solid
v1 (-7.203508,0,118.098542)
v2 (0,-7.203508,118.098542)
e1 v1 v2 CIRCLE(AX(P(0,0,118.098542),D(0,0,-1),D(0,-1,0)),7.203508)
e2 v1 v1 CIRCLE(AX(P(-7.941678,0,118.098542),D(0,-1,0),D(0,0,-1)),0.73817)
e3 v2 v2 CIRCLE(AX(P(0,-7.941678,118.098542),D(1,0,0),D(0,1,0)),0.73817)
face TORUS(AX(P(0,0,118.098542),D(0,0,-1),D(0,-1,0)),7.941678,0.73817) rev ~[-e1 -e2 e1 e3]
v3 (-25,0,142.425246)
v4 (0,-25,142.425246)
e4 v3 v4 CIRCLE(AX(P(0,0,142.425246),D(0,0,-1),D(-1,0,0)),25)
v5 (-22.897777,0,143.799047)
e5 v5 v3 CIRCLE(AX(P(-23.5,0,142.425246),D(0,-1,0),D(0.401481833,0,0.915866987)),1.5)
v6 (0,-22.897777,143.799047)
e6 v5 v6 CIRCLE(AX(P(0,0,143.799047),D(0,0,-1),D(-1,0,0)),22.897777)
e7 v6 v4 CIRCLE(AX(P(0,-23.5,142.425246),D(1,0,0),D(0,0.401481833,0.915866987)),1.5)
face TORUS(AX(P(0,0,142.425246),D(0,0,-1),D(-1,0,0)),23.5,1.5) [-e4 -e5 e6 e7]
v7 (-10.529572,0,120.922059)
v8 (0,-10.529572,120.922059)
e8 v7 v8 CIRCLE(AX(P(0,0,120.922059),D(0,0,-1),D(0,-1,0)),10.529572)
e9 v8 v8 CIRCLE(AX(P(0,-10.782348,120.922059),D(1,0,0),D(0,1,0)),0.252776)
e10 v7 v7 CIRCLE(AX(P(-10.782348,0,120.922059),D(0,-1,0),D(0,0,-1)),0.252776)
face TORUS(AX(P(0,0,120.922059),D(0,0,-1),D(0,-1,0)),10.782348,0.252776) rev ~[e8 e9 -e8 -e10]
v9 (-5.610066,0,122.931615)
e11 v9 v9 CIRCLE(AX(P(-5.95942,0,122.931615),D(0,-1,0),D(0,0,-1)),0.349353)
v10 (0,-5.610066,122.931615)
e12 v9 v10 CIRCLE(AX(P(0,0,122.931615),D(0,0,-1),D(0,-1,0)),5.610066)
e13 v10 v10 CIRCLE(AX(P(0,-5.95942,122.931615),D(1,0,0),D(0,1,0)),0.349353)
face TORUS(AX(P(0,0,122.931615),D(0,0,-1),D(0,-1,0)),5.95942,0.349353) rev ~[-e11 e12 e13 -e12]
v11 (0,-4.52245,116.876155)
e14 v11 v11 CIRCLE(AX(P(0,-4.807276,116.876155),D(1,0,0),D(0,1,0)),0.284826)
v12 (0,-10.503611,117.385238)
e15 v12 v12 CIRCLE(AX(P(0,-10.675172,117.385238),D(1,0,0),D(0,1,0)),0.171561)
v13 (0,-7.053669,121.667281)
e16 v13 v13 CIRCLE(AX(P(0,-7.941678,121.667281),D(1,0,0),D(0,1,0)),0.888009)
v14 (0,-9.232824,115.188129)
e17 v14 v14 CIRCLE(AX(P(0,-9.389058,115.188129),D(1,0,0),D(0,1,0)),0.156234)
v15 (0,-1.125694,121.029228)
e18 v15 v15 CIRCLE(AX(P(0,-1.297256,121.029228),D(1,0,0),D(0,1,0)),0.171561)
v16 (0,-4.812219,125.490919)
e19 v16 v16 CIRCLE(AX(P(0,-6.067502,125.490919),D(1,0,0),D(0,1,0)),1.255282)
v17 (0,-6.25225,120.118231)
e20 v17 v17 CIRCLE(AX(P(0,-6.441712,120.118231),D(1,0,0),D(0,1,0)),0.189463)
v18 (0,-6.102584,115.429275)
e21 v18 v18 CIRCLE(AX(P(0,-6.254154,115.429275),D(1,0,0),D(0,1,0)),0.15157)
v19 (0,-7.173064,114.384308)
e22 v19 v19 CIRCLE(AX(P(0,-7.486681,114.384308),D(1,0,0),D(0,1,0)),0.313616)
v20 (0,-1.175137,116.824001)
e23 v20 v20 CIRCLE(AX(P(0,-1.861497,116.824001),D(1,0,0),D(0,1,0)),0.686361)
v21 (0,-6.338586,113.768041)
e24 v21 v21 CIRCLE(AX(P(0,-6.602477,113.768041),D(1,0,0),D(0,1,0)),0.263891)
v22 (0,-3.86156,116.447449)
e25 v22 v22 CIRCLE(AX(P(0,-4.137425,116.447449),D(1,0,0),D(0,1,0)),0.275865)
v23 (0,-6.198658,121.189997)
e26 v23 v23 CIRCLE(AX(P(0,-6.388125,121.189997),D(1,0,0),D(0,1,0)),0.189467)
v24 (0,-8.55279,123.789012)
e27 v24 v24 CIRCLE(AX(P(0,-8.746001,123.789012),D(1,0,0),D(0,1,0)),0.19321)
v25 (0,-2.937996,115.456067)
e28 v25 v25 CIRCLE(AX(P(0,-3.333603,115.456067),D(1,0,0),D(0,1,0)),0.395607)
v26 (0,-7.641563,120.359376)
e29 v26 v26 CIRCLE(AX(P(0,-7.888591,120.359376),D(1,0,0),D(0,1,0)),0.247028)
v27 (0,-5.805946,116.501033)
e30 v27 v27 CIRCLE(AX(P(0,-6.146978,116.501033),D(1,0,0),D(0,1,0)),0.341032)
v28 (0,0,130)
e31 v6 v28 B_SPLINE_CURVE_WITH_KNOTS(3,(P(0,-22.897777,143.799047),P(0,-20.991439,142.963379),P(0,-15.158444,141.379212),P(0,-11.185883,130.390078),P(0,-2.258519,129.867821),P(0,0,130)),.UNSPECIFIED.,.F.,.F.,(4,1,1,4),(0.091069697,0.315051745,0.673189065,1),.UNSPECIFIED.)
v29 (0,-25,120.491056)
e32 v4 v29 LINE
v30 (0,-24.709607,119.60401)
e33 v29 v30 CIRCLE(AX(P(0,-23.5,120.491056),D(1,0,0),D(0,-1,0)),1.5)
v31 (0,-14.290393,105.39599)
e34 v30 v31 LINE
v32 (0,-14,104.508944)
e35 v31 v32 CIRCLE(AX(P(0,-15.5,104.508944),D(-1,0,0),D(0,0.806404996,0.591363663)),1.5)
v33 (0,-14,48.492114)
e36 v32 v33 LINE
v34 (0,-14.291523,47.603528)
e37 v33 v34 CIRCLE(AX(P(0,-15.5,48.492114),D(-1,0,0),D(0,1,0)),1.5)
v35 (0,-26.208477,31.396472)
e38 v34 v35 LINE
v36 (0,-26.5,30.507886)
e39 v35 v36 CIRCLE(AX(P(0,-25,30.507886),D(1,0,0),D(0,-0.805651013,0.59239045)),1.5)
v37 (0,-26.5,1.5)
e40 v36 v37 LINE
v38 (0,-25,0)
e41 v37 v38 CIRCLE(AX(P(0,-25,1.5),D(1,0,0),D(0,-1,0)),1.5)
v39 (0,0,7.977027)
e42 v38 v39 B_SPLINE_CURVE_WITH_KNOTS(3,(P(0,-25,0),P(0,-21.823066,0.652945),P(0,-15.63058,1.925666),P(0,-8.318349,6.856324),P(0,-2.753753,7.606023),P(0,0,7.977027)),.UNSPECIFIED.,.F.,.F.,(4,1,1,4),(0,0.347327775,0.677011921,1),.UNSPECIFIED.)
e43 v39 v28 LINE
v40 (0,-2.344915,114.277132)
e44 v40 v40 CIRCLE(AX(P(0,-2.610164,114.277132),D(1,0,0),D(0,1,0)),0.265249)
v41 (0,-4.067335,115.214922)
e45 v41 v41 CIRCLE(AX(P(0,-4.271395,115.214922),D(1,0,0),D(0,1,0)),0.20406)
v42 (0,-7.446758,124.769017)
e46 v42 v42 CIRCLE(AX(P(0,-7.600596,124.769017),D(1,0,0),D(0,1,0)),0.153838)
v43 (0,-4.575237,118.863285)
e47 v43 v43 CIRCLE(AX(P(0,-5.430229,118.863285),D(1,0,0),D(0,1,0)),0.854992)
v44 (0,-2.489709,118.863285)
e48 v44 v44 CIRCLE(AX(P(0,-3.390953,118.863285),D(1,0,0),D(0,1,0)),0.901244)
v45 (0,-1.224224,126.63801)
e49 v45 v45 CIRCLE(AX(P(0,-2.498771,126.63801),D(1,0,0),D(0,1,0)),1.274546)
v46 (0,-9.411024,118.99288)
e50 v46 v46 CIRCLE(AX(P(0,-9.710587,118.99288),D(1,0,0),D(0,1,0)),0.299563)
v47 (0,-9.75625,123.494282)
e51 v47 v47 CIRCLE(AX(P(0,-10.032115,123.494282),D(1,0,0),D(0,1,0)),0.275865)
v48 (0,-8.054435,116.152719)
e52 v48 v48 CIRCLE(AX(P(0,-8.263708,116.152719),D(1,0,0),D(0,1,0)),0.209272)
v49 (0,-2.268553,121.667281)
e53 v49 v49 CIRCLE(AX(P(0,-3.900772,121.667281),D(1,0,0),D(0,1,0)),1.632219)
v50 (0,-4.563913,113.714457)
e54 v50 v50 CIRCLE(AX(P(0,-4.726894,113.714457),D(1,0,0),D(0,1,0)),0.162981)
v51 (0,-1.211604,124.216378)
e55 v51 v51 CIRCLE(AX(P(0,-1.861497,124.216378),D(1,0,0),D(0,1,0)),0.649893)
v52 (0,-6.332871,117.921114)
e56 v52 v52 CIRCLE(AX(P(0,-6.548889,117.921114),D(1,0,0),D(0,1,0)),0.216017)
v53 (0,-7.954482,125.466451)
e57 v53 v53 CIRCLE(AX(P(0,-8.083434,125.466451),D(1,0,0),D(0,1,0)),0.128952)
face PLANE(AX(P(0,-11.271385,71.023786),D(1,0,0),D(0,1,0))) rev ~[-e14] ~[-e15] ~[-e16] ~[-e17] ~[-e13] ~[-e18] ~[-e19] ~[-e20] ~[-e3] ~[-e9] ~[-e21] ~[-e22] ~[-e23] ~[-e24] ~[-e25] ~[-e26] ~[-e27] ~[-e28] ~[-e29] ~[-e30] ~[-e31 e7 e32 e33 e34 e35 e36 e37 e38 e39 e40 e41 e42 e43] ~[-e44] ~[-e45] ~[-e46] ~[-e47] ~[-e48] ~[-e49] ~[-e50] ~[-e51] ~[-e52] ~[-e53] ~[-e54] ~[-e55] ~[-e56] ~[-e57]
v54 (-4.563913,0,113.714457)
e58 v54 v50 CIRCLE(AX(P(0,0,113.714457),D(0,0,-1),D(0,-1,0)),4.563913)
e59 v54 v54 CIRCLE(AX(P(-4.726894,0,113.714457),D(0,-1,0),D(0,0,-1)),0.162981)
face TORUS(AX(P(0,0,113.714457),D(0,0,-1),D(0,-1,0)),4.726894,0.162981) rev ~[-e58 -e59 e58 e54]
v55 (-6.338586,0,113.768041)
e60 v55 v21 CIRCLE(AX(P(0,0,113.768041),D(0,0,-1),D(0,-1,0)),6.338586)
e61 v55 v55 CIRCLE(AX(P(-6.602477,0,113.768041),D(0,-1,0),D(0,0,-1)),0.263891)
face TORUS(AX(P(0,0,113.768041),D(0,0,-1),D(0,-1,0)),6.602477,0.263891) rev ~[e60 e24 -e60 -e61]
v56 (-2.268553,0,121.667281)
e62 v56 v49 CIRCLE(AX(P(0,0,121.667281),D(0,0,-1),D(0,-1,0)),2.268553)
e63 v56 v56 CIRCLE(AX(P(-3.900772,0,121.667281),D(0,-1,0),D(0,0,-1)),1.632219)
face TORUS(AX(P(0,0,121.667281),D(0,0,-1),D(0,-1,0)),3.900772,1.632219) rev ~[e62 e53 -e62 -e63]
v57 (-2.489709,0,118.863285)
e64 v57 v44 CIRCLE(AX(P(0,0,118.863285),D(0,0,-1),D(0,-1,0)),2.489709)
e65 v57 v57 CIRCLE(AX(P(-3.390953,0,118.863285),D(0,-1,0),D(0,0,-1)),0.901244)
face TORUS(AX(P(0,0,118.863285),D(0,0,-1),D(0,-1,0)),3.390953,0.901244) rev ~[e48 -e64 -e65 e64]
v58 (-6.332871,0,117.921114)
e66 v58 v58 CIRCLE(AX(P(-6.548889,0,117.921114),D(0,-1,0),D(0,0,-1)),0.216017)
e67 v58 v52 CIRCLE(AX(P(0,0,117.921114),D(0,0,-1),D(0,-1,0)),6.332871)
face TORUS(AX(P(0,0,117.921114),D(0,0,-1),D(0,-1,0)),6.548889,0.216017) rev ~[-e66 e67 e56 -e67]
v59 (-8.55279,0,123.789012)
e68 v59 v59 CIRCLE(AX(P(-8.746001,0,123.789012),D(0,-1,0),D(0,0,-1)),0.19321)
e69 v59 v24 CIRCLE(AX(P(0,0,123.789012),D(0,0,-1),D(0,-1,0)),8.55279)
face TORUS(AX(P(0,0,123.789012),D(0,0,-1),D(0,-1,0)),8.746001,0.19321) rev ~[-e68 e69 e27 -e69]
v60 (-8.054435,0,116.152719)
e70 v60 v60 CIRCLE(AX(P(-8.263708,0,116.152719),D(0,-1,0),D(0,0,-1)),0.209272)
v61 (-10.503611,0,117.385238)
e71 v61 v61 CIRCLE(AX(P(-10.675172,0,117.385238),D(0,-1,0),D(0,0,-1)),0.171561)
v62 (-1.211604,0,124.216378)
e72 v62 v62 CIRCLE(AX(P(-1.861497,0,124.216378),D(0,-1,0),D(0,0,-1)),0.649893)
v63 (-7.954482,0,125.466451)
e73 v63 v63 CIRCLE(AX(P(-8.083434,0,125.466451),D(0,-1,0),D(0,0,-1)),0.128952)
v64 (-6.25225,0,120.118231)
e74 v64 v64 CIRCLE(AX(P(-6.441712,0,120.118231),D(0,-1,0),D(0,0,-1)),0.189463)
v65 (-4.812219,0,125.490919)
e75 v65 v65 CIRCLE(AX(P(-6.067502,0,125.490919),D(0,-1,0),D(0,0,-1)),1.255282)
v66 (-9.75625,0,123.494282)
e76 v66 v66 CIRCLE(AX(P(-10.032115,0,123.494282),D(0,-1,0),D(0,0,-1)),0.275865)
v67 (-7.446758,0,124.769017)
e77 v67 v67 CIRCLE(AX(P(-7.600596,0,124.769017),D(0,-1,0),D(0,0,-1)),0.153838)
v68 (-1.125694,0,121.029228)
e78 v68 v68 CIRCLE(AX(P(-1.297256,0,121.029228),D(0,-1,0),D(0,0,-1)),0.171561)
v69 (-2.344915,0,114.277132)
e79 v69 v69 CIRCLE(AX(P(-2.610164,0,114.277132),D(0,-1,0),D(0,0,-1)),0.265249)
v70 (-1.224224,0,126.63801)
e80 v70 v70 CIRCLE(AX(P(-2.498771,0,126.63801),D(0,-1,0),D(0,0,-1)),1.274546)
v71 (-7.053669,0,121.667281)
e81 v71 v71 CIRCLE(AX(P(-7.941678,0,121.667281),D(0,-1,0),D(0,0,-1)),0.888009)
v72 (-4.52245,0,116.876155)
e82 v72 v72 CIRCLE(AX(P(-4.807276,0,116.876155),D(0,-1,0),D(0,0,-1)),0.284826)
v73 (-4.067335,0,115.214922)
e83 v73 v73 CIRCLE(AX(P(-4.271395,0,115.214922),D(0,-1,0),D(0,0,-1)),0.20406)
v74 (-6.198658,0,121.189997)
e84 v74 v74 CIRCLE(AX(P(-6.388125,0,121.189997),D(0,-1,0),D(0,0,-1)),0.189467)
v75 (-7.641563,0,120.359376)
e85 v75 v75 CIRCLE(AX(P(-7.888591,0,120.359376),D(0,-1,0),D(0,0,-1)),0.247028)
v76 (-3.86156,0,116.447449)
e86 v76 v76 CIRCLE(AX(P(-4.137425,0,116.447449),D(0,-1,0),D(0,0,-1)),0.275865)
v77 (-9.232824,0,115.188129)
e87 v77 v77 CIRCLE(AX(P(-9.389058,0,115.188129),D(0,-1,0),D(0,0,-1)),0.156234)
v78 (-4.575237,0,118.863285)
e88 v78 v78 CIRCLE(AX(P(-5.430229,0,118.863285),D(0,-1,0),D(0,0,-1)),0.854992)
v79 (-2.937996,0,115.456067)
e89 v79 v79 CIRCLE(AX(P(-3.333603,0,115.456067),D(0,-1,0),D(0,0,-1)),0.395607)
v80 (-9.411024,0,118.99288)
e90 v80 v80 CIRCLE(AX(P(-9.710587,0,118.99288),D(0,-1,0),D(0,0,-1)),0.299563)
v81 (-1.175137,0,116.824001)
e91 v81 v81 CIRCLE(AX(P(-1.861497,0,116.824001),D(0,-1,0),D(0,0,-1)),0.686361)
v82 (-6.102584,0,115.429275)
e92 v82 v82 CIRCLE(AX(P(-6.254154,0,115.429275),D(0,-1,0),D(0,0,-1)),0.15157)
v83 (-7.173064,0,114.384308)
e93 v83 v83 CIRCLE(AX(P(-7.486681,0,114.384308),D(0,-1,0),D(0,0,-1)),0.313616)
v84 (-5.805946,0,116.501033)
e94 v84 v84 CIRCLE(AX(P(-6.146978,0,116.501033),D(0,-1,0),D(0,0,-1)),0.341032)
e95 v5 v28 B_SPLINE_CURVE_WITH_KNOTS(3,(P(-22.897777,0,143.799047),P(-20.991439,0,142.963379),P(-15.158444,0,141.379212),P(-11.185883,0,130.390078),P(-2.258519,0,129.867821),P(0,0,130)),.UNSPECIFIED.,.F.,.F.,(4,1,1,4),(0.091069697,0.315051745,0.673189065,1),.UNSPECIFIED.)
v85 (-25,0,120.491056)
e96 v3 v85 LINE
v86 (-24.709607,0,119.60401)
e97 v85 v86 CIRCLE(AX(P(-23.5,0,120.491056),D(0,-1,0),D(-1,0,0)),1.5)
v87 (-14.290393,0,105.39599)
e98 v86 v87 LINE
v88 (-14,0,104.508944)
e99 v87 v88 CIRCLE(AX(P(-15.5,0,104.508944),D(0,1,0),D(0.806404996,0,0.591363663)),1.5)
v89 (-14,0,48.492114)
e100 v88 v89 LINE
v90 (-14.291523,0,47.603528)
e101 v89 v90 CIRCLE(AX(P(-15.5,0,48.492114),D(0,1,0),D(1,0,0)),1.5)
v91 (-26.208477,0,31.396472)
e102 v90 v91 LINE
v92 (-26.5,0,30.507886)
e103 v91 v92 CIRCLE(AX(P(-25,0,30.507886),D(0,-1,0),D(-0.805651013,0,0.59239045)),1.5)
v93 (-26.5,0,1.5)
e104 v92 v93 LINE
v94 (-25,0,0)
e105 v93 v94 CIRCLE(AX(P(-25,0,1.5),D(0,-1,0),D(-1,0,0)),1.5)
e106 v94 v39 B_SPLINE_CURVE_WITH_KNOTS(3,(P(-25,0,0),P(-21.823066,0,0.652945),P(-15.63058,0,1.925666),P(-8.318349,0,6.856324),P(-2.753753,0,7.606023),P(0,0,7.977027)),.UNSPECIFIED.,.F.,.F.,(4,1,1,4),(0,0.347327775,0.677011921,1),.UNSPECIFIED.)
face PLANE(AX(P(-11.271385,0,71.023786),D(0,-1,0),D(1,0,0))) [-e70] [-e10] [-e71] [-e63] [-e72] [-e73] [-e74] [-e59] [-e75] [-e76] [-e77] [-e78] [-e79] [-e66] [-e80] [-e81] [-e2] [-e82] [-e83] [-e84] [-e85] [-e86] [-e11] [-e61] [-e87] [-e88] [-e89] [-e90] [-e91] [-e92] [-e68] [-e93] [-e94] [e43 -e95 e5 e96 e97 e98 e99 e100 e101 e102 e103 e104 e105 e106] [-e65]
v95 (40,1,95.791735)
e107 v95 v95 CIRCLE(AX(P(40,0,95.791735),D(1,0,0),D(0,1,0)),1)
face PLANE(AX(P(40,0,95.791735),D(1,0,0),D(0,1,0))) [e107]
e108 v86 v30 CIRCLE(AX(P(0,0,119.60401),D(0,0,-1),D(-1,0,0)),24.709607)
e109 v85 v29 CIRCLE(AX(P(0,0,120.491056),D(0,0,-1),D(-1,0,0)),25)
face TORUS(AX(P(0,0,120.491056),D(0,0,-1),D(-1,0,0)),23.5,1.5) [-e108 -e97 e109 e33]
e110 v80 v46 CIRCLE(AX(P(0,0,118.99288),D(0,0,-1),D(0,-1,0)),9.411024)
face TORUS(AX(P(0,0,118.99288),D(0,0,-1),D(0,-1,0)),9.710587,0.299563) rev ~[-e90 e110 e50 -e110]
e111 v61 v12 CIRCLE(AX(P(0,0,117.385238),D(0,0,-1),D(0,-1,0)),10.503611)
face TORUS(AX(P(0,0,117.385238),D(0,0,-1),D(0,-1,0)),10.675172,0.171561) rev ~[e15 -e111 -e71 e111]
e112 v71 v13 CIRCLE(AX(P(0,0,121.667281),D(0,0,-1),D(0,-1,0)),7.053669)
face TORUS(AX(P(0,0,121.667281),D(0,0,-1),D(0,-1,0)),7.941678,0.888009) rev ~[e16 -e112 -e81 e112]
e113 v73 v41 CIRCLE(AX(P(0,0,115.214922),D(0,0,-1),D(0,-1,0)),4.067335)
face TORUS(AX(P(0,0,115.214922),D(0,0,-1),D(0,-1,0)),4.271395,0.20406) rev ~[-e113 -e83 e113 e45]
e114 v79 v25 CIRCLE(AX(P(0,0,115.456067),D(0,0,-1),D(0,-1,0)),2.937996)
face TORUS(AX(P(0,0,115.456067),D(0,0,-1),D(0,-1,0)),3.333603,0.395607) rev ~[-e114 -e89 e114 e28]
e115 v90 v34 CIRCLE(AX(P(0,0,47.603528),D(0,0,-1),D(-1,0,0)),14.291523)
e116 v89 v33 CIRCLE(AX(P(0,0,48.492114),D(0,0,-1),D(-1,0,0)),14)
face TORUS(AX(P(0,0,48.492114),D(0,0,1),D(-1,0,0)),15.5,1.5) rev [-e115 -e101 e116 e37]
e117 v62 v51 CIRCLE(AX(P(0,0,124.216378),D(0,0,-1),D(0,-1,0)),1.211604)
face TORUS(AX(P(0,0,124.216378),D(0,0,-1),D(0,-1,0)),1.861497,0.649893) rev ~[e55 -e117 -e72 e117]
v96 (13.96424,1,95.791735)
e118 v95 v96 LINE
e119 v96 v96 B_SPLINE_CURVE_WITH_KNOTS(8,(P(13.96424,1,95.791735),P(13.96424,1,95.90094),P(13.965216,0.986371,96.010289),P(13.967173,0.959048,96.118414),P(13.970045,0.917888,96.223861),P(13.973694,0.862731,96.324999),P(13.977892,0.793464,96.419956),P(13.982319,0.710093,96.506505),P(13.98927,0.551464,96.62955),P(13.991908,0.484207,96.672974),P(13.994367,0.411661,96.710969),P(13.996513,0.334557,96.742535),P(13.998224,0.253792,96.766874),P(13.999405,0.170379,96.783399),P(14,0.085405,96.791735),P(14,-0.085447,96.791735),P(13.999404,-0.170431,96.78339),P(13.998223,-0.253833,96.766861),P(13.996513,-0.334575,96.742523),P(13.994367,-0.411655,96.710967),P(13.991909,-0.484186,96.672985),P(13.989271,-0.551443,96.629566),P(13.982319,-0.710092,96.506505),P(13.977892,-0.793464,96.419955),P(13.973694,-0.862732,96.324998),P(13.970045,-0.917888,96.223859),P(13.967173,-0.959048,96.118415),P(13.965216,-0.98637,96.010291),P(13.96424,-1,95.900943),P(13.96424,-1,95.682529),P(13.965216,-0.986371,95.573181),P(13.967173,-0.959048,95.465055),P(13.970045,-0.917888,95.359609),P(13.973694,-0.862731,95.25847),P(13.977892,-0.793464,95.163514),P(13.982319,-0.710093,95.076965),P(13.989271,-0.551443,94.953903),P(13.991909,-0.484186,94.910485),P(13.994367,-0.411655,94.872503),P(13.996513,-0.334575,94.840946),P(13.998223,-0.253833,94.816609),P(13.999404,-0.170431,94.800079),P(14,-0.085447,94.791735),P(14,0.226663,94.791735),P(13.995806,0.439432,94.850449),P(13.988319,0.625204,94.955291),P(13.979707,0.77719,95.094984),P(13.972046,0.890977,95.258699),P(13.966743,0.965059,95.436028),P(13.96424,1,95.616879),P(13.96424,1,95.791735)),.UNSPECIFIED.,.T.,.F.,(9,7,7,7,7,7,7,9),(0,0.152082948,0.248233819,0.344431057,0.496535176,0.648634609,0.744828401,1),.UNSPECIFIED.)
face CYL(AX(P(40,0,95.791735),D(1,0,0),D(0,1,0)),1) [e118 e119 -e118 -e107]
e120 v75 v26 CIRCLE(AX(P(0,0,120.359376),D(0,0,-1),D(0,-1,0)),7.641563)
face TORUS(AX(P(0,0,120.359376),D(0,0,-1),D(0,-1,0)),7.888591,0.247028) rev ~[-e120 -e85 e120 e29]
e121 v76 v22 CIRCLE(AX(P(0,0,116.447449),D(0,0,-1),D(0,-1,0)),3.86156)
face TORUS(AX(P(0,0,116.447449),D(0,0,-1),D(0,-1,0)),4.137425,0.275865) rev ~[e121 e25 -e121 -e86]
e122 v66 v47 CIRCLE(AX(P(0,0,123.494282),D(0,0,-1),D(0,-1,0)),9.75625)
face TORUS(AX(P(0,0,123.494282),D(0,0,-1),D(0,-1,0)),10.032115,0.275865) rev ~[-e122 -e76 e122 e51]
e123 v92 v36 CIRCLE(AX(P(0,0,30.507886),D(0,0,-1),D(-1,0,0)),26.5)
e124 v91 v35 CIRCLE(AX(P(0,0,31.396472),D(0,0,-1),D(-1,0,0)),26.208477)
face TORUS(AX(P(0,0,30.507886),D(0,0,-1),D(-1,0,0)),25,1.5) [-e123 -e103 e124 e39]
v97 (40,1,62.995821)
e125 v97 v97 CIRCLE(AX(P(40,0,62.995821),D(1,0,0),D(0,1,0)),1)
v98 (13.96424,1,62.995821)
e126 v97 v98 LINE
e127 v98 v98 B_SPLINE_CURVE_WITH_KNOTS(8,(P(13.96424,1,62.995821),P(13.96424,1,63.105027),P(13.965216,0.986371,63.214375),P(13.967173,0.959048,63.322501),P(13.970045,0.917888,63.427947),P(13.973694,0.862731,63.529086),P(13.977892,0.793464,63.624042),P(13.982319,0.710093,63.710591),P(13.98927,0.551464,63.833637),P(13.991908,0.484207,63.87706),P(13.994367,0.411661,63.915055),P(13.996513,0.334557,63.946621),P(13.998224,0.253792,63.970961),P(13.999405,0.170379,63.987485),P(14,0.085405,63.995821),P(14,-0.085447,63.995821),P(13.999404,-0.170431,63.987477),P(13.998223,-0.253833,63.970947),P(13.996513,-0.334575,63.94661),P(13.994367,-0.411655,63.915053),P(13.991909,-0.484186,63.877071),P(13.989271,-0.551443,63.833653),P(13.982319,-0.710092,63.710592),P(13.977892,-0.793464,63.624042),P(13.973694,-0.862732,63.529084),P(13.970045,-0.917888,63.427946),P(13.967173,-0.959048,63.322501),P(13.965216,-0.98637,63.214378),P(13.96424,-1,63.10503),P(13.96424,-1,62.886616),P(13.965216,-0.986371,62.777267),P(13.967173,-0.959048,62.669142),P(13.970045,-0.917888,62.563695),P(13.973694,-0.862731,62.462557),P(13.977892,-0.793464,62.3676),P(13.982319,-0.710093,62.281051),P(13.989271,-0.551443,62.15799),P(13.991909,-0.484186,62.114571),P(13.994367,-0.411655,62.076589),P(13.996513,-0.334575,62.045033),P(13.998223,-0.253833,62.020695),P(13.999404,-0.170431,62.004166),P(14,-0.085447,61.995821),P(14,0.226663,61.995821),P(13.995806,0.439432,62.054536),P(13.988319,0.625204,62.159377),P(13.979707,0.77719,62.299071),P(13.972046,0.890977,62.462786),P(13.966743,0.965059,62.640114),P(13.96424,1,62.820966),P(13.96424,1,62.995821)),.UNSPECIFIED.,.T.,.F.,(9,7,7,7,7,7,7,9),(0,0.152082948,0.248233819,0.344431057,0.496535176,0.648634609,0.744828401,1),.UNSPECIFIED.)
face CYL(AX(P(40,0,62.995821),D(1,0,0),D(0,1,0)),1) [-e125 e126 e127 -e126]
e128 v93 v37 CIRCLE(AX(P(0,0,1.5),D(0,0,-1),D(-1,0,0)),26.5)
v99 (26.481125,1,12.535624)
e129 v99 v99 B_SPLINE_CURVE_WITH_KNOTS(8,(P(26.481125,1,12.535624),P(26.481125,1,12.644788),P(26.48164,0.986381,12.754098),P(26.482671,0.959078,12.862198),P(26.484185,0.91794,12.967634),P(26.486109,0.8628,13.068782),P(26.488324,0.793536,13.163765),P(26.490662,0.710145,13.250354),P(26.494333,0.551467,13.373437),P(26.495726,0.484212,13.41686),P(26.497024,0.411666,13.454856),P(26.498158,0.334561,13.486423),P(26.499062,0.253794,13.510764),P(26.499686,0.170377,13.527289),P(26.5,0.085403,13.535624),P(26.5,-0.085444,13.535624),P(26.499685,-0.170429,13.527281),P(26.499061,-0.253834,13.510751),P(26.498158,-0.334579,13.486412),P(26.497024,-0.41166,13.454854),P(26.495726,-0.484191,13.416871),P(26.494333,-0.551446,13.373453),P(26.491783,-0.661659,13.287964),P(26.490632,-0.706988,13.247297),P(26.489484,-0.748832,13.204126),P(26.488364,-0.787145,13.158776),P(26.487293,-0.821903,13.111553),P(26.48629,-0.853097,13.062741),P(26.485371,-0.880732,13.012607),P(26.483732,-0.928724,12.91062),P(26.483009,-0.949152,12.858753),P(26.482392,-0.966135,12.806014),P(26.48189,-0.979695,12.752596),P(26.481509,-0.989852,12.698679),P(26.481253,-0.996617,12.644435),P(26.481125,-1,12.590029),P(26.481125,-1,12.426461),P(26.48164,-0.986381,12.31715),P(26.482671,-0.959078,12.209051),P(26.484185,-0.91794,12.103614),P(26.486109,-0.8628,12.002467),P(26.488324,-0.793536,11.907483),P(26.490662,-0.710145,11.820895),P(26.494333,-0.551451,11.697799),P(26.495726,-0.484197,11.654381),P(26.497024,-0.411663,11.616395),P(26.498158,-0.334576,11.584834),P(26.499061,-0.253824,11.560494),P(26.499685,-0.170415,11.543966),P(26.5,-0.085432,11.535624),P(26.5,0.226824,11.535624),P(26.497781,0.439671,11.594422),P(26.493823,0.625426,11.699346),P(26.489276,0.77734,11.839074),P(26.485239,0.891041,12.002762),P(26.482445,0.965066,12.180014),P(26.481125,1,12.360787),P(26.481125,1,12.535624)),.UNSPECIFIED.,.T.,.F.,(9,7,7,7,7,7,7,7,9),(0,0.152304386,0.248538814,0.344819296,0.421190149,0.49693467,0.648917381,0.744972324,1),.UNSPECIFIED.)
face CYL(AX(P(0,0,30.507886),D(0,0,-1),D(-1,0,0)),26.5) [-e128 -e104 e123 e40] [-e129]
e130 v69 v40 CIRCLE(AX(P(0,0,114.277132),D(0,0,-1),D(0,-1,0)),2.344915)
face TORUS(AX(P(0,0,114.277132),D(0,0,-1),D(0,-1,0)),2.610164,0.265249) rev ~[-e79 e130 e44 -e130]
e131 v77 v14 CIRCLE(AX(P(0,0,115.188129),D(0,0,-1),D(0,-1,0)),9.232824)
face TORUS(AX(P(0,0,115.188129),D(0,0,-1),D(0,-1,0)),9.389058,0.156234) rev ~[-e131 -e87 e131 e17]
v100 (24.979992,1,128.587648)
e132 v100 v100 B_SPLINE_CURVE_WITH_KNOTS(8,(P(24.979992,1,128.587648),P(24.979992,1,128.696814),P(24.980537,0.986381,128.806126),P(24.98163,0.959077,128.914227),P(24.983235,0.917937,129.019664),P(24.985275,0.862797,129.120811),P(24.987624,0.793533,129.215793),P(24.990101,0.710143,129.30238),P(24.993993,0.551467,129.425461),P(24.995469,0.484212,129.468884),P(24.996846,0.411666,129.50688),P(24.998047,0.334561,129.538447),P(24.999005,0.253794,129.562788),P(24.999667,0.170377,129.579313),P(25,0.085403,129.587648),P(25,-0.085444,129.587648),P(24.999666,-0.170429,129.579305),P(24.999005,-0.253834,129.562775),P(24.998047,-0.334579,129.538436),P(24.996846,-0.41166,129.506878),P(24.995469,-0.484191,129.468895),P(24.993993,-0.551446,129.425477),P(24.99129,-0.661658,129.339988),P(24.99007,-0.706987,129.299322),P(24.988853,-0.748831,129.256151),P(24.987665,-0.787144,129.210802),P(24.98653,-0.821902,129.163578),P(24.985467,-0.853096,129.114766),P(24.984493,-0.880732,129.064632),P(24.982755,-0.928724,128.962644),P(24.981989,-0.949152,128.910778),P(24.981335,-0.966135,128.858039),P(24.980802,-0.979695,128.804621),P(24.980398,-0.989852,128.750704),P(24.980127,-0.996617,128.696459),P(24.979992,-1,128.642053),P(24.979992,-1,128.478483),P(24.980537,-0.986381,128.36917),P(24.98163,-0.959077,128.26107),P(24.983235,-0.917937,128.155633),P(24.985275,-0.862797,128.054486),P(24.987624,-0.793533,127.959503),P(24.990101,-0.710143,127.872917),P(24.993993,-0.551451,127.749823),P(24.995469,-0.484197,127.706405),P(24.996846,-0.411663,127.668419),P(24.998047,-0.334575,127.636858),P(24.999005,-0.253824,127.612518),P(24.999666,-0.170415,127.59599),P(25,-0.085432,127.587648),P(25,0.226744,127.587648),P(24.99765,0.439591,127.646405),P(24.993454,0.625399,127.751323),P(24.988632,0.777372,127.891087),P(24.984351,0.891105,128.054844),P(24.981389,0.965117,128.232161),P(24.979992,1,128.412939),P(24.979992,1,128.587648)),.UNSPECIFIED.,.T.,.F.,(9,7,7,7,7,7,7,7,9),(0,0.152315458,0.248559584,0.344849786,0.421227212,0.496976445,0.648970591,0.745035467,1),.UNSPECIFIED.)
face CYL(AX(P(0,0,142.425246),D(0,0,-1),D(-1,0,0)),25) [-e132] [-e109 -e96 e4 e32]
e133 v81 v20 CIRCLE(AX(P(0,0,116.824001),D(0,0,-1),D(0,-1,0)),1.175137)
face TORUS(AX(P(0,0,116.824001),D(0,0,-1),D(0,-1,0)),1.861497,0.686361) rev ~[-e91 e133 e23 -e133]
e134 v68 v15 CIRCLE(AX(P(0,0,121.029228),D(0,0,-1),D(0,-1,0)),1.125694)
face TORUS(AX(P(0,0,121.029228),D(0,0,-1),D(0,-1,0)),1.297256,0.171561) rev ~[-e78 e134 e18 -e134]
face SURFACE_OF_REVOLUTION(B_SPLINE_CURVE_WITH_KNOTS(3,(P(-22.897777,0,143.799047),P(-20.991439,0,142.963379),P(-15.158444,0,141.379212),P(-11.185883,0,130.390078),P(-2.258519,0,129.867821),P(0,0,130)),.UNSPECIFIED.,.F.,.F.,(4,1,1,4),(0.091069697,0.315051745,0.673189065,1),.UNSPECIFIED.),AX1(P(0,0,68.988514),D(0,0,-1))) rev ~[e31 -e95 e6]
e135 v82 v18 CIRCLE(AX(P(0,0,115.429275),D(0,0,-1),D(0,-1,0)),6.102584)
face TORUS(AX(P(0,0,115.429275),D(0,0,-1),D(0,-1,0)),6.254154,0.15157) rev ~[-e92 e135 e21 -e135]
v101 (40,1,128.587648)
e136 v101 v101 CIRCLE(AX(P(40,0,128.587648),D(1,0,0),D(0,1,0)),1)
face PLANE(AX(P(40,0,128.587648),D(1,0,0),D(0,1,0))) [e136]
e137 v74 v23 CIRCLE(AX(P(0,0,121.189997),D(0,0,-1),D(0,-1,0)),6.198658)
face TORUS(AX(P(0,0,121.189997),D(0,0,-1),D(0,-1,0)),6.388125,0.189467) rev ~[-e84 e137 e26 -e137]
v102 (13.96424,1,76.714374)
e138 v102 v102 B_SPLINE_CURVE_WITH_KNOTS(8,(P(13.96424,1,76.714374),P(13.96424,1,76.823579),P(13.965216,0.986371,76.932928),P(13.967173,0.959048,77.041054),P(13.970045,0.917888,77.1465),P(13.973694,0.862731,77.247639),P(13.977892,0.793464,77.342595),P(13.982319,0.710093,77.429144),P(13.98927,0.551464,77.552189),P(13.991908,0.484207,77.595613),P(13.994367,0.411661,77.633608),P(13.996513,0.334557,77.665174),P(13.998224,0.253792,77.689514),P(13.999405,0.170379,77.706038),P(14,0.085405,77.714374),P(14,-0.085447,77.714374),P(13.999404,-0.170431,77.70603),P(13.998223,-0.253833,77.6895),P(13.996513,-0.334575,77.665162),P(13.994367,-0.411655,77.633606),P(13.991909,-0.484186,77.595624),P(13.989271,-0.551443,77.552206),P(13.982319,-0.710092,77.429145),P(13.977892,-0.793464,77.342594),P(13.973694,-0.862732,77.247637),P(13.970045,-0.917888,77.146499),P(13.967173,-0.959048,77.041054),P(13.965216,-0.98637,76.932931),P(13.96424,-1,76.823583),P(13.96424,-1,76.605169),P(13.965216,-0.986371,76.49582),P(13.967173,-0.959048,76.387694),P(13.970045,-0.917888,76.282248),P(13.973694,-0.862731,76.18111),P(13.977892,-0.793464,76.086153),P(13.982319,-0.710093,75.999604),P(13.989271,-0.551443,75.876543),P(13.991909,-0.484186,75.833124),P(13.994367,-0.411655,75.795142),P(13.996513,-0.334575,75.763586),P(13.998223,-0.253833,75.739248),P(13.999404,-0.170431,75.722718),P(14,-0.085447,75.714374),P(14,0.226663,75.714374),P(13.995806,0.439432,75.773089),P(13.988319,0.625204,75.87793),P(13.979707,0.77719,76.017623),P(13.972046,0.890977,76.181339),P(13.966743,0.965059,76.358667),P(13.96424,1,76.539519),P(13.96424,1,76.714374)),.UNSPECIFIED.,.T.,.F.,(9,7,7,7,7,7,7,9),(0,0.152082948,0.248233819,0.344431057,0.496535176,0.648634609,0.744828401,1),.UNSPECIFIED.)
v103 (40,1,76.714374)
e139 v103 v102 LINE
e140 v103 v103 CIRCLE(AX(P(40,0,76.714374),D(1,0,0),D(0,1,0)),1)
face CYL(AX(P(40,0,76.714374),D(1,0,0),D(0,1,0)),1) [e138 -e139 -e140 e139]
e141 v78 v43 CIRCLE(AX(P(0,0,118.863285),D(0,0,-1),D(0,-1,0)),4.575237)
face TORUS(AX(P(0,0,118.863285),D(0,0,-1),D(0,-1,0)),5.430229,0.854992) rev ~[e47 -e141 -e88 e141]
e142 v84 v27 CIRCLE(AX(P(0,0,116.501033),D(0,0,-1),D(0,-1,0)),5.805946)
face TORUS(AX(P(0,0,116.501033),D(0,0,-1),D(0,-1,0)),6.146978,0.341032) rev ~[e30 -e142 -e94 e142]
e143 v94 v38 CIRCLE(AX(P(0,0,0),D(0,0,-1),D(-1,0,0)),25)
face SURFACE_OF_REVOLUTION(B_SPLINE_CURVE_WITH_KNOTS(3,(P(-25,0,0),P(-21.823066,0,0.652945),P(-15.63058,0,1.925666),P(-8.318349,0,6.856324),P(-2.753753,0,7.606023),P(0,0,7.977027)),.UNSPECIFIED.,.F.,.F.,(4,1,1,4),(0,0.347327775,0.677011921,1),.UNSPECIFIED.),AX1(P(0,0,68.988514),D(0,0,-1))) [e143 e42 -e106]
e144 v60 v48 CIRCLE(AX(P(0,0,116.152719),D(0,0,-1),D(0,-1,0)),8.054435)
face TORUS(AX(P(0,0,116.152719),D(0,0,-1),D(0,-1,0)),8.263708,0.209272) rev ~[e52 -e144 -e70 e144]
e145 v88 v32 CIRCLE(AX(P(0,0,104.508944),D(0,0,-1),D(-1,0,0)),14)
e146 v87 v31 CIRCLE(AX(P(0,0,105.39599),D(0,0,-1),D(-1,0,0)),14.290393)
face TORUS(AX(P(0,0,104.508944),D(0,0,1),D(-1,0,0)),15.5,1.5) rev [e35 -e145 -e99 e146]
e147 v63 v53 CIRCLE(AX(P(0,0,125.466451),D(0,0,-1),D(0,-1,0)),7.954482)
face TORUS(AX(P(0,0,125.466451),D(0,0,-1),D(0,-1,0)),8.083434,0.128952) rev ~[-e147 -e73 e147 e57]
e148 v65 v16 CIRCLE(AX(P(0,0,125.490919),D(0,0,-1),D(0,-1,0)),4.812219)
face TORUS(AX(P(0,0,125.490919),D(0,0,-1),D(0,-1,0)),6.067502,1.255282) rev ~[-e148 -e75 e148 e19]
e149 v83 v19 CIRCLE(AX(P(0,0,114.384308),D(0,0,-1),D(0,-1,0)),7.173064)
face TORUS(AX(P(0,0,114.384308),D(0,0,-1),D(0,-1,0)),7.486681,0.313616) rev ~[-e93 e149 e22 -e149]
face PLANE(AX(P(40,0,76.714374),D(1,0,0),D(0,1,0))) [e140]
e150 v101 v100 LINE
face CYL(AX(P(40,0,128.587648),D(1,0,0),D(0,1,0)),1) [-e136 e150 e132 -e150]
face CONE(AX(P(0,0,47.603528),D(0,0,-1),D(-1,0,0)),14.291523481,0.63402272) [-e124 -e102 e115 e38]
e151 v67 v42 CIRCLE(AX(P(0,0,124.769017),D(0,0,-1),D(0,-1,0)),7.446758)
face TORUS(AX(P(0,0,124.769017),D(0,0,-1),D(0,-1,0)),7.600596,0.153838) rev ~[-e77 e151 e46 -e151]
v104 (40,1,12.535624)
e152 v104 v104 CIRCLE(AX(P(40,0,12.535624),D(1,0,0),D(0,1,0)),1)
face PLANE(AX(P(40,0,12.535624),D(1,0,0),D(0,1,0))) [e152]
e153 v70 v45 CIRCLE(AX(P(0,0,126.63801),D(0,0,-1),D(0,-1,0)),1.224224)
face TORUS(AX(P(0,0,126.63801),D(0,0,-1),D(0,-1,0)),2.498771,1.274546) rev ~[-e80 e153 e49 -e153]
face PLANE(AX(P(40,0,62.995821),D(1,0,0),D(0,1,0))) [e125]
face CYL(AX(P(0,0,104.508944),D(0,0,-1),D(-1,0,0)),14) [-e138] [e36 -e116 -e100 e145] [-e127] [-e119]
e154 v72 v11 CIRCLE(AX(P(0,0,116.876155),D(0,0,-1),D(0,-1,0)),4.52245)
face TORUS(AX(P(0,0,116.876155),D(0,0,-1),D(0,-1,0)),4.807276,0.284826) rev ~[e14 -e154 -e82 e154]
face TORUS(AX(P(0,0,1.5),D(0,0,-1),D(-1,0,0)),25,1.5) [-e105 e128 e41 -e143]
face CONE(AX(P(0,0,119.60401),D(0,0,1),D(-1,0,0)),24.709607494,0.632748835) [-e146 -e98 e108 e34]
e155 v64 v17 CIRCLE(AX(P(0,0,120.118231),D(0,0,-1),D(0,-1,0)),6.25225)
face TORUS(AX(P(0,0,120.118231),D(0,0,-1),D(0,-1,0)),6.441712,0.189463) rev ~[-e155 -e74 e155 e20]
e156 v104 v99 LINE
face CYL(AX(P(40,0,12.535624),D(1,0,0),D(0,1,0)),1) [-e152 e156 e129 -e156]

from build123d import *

# Parameters (mm, degrees)
F1_ANGLE = 270
F2_R     = 1.2745464221
F2_R_2   = 1.2552824714
F2_R_3   = 1.6322190303
F2_R_4   = 0.8880093631
F2_R_5   = 0.7381695648
F2_R_6   = 0.9012440071
F2_R_7   = 0.8549916488
F2_R_8   = 0.6863607266
F2_R_9   = 0.6498929306
F2_R_10  = 0.2758645629
F2_R_11  = 0.2848262521
F2_R_12  = 0.3956072165
F2_R_13  = 0.1715613473
F2_R_14  = 0.3493530521
F2_R_15  = 0.1932104592
F2_R_16  = 0.25277551
F2_R_17  = 0.2470281442
F2_R_18  = 0.189466877
F2_R_19  = 0.1894625306
F2_R_20  = 0.2160172465
F2_R_21  = 0.3410318833
F2_R_22  = 0.2092722247
F2_R_23  = 0.1515702747
F2_R_24  = 0.2040596992
F2_R_25  = 0.2652492155
F2_R_26  = 0.1629812297
F2_R_27  = 0.2638909269
F2_R_28  = 0.3136161778
F2_R_29  = 0.1562338053
F2_R_30  = 0.1715608928
F2_R_31  = 0.2995627114
F2_R_32  = 0.1289519235
F2_R_33  = 0.1538380187
F5_R     = 1
F6_DEPTH = 30


with BuildPart() as f1:
    # F0 (on Front) → F1 (revolve)
    with BuildSketch(Plane.XZ):
        with BuildLine():
            Line((-26.5, 30.5078862585), (-26.5, 1.5))
            ThreePointArc((-26.5, 1.5), (-26.0606601718, 0.4393398282), (-25, 0))
            add(Edge.make_bspline(
                [(-25, 0), (-21.8230657675, 0.652944704), (-15.6305798646, 1.925665692), (-8.3183493159, 6.856323911), (-2.7537531786, 7.6060234397), (0, 7.977027446)],
                knots=[0, 0, 0, 0, 0.3473277747, 0.6770119213, 1, 1, 1, 1], degree=3))
            Line((0, 7.977027446), (0, 130))
            add(Edge.make_bspline(
                [(-22.8977772498, 143.7990468747), (-20.9914386602, 142.9633793343), (-15.1584438549, 141.379212354), (-11.1858827412, 130.3900782292), (-2.2585186695, 129.8678209624), (0, 130)],
                knots=[0.0910696974, 0.0910696974, 0.0910696974, 0.0910696974, 0.3150517448, 0.6731890645, 1, 1, 1, 1], degree=3))
            ThreePointArc((-22.8977772498, 143.7990468747), (-24.3205686671, 143.6809004324), (-25, 142.4252463946))
            Line((-25, 142.4252463946), (-25, 120.4910557142))
            ThreePointArc((-25, 120.4910557142), (-24.9255544957, 120.0243712602), (-24.7096074938, 119.6040102188))
            Line((-24.7096074938, 119.6040102188), (-14.2903925062, 105.3959897812))
            ThreePointArc((-14.2903925062, 105.3959897812), (-14.0744455043, 104.9756287398), (-14, 104.5089442858))
            Line((-14, 104.5089442858), (-14, 48.4921137415))
            ThreePointArc((-14, 48.4921137415), (-14.0747430445, 48.0245213862), (-14.291523481, 47.6035280658))
            Line((-14.291523481, 47.6035280658), (-26.208476519, 31.3964719342))
            ThreePointArc((-26.208476519, 31.3964719342), (-26.4252569555, 30.9754786138), (-26.5, 30.5078862585))
        make_face()
    revolve(axis=Axis((0, 0, 68.988513723), (0, 0, -1)), revolution_arc=F1_ANGLE)

    # F2 (on Right) → F3 (revolve, cut)
    with BuildSketch(Plane.YZ):
        with Locations((-2.4987708312, 126.6380101442)):
            Circle(F2_R)
        with Locations((-6.0675018467, 125.4909187555)):
            Circle(F2_R_2)
        with Locations((-3.9007721934, 121.6672807932)):
            Circle(F2_R_3)
        with Locations((-7.941677998, 121.6672807932)):
            Circle(F2_R_4)
        with Locations((-7.941677998, 118.0985420942)):
            Circle(F2_R_5)
        with Locations((-3.3909534104, 118.8632845879)):
            Circle(F2_R_6)
        with Locations((-5.4302285425, 118.8632845879)):
            Circle(F2_R_7)
        with Locations((-1.8614974106, 116.8240010738)):
            Circle(F2_R_8)
        with Locations((-1.8614974106, 124.2163777351)):
            Circle(F2_R_9)
        with Locations((-4.1374247521, 116.4474487305)):
            Circle(F2_R_10)
        with Locations((-4.8072761856, 116.876155138)):
            Circle(F2_R_11)
        with Locations((-3.3336030319, 115.4560670257)):
            Circle(F2_R_12)
        with Locations((-1.2972556287, 121.029227972)):
            Circle(F2_R_13)
        with Locations((-5.9594195336, 122.9316145182)):
            Circle(F2_R_14)
        with Locations((-8.7460009381, 123.7890124321)):
            Circle(F2_R_15)
        with Locations((-10.7823479921, 120.9220588207)):
            Circle(F2_R_16)
        with Locations((-7.888590917, 120.3593760729)):
            Circle(F2_R_17)
        with Locations((-6.3881245442, 121.1899966002)):
            Circle(F2_R_18)
        with Locations((-6.4417123795, 120.1182305813)):
            Circle(F2_R_19)
        with Locations((-6.5488885157, 117.9211139679)):
            Circle(F2_R_20)
        with Locations((-6.1469781213, 116.5010333061)):
            Circle(F2_R_21)
        with Locations((-8.2637076266, 116.1527186632)):
            Circle(F2_R_22)
        with Locations((-6.2541542575, 115.4292747378)):
            Circle(F2_R_23)
        with Locations((-4.2713950388, 115.2149215341)):
            Circle(F2_R_24)
        with Locations((-2.610163996, 114.2771318555)):
            Circle(F2_R_25)
        with Locations((-4.7268937342, 113.7144565582)):
            Circle(F2_R_26)
        with Locations((-6.6024768166, 113.7680411339)):
            Circle(F2_R_27)
        with Locations((-7.4866805226, 114.3843084574)):
            Circle(F2_R_28)
        with Locations((-9.3890577555, 115.1881292462)):
            Circle(F2_R_29)
        with Locations((-10.6751723215, 117.385238409)):
            Circle(F2_R_30)
        with Locations((-9.7105866298, 118.9928799868)):
            Circle(F2_R_31)
        with Locations((-10.0321145728, 123.4942823648)):
            Circle(F2_R_10)
        with Locations((-8.0834338441, 125.4664510489)):
            Circle(F2_R_32)
        with Locations((-7.6005961746, 124.7690171003)):
            Circle(F2_R_33)
    revolve(axis=Axis((0, 0, 68.988513723), (0, 0, -1)), mode=Mode.SUBTRACT)

    # F5 (on offset) → F6 (join)
    with BuildSketch(Plane.YZ.offset(40)):
        with Locations((0, 12.5356242061)):
            Circle(F5_R)
        with Locations((0, 62.9958212376)):
            Circle(F5_R)
        with Locations((0, 76.714374125)):
            Circle(F5_R)
        with Locations((0, 95.791734755)):
            Circle(F5_R)
        with Locations((0, 128.5876482725)):
            Circle(F5_R)
    extrude(amount=-F6_DEPTH)


solid = f1.part
